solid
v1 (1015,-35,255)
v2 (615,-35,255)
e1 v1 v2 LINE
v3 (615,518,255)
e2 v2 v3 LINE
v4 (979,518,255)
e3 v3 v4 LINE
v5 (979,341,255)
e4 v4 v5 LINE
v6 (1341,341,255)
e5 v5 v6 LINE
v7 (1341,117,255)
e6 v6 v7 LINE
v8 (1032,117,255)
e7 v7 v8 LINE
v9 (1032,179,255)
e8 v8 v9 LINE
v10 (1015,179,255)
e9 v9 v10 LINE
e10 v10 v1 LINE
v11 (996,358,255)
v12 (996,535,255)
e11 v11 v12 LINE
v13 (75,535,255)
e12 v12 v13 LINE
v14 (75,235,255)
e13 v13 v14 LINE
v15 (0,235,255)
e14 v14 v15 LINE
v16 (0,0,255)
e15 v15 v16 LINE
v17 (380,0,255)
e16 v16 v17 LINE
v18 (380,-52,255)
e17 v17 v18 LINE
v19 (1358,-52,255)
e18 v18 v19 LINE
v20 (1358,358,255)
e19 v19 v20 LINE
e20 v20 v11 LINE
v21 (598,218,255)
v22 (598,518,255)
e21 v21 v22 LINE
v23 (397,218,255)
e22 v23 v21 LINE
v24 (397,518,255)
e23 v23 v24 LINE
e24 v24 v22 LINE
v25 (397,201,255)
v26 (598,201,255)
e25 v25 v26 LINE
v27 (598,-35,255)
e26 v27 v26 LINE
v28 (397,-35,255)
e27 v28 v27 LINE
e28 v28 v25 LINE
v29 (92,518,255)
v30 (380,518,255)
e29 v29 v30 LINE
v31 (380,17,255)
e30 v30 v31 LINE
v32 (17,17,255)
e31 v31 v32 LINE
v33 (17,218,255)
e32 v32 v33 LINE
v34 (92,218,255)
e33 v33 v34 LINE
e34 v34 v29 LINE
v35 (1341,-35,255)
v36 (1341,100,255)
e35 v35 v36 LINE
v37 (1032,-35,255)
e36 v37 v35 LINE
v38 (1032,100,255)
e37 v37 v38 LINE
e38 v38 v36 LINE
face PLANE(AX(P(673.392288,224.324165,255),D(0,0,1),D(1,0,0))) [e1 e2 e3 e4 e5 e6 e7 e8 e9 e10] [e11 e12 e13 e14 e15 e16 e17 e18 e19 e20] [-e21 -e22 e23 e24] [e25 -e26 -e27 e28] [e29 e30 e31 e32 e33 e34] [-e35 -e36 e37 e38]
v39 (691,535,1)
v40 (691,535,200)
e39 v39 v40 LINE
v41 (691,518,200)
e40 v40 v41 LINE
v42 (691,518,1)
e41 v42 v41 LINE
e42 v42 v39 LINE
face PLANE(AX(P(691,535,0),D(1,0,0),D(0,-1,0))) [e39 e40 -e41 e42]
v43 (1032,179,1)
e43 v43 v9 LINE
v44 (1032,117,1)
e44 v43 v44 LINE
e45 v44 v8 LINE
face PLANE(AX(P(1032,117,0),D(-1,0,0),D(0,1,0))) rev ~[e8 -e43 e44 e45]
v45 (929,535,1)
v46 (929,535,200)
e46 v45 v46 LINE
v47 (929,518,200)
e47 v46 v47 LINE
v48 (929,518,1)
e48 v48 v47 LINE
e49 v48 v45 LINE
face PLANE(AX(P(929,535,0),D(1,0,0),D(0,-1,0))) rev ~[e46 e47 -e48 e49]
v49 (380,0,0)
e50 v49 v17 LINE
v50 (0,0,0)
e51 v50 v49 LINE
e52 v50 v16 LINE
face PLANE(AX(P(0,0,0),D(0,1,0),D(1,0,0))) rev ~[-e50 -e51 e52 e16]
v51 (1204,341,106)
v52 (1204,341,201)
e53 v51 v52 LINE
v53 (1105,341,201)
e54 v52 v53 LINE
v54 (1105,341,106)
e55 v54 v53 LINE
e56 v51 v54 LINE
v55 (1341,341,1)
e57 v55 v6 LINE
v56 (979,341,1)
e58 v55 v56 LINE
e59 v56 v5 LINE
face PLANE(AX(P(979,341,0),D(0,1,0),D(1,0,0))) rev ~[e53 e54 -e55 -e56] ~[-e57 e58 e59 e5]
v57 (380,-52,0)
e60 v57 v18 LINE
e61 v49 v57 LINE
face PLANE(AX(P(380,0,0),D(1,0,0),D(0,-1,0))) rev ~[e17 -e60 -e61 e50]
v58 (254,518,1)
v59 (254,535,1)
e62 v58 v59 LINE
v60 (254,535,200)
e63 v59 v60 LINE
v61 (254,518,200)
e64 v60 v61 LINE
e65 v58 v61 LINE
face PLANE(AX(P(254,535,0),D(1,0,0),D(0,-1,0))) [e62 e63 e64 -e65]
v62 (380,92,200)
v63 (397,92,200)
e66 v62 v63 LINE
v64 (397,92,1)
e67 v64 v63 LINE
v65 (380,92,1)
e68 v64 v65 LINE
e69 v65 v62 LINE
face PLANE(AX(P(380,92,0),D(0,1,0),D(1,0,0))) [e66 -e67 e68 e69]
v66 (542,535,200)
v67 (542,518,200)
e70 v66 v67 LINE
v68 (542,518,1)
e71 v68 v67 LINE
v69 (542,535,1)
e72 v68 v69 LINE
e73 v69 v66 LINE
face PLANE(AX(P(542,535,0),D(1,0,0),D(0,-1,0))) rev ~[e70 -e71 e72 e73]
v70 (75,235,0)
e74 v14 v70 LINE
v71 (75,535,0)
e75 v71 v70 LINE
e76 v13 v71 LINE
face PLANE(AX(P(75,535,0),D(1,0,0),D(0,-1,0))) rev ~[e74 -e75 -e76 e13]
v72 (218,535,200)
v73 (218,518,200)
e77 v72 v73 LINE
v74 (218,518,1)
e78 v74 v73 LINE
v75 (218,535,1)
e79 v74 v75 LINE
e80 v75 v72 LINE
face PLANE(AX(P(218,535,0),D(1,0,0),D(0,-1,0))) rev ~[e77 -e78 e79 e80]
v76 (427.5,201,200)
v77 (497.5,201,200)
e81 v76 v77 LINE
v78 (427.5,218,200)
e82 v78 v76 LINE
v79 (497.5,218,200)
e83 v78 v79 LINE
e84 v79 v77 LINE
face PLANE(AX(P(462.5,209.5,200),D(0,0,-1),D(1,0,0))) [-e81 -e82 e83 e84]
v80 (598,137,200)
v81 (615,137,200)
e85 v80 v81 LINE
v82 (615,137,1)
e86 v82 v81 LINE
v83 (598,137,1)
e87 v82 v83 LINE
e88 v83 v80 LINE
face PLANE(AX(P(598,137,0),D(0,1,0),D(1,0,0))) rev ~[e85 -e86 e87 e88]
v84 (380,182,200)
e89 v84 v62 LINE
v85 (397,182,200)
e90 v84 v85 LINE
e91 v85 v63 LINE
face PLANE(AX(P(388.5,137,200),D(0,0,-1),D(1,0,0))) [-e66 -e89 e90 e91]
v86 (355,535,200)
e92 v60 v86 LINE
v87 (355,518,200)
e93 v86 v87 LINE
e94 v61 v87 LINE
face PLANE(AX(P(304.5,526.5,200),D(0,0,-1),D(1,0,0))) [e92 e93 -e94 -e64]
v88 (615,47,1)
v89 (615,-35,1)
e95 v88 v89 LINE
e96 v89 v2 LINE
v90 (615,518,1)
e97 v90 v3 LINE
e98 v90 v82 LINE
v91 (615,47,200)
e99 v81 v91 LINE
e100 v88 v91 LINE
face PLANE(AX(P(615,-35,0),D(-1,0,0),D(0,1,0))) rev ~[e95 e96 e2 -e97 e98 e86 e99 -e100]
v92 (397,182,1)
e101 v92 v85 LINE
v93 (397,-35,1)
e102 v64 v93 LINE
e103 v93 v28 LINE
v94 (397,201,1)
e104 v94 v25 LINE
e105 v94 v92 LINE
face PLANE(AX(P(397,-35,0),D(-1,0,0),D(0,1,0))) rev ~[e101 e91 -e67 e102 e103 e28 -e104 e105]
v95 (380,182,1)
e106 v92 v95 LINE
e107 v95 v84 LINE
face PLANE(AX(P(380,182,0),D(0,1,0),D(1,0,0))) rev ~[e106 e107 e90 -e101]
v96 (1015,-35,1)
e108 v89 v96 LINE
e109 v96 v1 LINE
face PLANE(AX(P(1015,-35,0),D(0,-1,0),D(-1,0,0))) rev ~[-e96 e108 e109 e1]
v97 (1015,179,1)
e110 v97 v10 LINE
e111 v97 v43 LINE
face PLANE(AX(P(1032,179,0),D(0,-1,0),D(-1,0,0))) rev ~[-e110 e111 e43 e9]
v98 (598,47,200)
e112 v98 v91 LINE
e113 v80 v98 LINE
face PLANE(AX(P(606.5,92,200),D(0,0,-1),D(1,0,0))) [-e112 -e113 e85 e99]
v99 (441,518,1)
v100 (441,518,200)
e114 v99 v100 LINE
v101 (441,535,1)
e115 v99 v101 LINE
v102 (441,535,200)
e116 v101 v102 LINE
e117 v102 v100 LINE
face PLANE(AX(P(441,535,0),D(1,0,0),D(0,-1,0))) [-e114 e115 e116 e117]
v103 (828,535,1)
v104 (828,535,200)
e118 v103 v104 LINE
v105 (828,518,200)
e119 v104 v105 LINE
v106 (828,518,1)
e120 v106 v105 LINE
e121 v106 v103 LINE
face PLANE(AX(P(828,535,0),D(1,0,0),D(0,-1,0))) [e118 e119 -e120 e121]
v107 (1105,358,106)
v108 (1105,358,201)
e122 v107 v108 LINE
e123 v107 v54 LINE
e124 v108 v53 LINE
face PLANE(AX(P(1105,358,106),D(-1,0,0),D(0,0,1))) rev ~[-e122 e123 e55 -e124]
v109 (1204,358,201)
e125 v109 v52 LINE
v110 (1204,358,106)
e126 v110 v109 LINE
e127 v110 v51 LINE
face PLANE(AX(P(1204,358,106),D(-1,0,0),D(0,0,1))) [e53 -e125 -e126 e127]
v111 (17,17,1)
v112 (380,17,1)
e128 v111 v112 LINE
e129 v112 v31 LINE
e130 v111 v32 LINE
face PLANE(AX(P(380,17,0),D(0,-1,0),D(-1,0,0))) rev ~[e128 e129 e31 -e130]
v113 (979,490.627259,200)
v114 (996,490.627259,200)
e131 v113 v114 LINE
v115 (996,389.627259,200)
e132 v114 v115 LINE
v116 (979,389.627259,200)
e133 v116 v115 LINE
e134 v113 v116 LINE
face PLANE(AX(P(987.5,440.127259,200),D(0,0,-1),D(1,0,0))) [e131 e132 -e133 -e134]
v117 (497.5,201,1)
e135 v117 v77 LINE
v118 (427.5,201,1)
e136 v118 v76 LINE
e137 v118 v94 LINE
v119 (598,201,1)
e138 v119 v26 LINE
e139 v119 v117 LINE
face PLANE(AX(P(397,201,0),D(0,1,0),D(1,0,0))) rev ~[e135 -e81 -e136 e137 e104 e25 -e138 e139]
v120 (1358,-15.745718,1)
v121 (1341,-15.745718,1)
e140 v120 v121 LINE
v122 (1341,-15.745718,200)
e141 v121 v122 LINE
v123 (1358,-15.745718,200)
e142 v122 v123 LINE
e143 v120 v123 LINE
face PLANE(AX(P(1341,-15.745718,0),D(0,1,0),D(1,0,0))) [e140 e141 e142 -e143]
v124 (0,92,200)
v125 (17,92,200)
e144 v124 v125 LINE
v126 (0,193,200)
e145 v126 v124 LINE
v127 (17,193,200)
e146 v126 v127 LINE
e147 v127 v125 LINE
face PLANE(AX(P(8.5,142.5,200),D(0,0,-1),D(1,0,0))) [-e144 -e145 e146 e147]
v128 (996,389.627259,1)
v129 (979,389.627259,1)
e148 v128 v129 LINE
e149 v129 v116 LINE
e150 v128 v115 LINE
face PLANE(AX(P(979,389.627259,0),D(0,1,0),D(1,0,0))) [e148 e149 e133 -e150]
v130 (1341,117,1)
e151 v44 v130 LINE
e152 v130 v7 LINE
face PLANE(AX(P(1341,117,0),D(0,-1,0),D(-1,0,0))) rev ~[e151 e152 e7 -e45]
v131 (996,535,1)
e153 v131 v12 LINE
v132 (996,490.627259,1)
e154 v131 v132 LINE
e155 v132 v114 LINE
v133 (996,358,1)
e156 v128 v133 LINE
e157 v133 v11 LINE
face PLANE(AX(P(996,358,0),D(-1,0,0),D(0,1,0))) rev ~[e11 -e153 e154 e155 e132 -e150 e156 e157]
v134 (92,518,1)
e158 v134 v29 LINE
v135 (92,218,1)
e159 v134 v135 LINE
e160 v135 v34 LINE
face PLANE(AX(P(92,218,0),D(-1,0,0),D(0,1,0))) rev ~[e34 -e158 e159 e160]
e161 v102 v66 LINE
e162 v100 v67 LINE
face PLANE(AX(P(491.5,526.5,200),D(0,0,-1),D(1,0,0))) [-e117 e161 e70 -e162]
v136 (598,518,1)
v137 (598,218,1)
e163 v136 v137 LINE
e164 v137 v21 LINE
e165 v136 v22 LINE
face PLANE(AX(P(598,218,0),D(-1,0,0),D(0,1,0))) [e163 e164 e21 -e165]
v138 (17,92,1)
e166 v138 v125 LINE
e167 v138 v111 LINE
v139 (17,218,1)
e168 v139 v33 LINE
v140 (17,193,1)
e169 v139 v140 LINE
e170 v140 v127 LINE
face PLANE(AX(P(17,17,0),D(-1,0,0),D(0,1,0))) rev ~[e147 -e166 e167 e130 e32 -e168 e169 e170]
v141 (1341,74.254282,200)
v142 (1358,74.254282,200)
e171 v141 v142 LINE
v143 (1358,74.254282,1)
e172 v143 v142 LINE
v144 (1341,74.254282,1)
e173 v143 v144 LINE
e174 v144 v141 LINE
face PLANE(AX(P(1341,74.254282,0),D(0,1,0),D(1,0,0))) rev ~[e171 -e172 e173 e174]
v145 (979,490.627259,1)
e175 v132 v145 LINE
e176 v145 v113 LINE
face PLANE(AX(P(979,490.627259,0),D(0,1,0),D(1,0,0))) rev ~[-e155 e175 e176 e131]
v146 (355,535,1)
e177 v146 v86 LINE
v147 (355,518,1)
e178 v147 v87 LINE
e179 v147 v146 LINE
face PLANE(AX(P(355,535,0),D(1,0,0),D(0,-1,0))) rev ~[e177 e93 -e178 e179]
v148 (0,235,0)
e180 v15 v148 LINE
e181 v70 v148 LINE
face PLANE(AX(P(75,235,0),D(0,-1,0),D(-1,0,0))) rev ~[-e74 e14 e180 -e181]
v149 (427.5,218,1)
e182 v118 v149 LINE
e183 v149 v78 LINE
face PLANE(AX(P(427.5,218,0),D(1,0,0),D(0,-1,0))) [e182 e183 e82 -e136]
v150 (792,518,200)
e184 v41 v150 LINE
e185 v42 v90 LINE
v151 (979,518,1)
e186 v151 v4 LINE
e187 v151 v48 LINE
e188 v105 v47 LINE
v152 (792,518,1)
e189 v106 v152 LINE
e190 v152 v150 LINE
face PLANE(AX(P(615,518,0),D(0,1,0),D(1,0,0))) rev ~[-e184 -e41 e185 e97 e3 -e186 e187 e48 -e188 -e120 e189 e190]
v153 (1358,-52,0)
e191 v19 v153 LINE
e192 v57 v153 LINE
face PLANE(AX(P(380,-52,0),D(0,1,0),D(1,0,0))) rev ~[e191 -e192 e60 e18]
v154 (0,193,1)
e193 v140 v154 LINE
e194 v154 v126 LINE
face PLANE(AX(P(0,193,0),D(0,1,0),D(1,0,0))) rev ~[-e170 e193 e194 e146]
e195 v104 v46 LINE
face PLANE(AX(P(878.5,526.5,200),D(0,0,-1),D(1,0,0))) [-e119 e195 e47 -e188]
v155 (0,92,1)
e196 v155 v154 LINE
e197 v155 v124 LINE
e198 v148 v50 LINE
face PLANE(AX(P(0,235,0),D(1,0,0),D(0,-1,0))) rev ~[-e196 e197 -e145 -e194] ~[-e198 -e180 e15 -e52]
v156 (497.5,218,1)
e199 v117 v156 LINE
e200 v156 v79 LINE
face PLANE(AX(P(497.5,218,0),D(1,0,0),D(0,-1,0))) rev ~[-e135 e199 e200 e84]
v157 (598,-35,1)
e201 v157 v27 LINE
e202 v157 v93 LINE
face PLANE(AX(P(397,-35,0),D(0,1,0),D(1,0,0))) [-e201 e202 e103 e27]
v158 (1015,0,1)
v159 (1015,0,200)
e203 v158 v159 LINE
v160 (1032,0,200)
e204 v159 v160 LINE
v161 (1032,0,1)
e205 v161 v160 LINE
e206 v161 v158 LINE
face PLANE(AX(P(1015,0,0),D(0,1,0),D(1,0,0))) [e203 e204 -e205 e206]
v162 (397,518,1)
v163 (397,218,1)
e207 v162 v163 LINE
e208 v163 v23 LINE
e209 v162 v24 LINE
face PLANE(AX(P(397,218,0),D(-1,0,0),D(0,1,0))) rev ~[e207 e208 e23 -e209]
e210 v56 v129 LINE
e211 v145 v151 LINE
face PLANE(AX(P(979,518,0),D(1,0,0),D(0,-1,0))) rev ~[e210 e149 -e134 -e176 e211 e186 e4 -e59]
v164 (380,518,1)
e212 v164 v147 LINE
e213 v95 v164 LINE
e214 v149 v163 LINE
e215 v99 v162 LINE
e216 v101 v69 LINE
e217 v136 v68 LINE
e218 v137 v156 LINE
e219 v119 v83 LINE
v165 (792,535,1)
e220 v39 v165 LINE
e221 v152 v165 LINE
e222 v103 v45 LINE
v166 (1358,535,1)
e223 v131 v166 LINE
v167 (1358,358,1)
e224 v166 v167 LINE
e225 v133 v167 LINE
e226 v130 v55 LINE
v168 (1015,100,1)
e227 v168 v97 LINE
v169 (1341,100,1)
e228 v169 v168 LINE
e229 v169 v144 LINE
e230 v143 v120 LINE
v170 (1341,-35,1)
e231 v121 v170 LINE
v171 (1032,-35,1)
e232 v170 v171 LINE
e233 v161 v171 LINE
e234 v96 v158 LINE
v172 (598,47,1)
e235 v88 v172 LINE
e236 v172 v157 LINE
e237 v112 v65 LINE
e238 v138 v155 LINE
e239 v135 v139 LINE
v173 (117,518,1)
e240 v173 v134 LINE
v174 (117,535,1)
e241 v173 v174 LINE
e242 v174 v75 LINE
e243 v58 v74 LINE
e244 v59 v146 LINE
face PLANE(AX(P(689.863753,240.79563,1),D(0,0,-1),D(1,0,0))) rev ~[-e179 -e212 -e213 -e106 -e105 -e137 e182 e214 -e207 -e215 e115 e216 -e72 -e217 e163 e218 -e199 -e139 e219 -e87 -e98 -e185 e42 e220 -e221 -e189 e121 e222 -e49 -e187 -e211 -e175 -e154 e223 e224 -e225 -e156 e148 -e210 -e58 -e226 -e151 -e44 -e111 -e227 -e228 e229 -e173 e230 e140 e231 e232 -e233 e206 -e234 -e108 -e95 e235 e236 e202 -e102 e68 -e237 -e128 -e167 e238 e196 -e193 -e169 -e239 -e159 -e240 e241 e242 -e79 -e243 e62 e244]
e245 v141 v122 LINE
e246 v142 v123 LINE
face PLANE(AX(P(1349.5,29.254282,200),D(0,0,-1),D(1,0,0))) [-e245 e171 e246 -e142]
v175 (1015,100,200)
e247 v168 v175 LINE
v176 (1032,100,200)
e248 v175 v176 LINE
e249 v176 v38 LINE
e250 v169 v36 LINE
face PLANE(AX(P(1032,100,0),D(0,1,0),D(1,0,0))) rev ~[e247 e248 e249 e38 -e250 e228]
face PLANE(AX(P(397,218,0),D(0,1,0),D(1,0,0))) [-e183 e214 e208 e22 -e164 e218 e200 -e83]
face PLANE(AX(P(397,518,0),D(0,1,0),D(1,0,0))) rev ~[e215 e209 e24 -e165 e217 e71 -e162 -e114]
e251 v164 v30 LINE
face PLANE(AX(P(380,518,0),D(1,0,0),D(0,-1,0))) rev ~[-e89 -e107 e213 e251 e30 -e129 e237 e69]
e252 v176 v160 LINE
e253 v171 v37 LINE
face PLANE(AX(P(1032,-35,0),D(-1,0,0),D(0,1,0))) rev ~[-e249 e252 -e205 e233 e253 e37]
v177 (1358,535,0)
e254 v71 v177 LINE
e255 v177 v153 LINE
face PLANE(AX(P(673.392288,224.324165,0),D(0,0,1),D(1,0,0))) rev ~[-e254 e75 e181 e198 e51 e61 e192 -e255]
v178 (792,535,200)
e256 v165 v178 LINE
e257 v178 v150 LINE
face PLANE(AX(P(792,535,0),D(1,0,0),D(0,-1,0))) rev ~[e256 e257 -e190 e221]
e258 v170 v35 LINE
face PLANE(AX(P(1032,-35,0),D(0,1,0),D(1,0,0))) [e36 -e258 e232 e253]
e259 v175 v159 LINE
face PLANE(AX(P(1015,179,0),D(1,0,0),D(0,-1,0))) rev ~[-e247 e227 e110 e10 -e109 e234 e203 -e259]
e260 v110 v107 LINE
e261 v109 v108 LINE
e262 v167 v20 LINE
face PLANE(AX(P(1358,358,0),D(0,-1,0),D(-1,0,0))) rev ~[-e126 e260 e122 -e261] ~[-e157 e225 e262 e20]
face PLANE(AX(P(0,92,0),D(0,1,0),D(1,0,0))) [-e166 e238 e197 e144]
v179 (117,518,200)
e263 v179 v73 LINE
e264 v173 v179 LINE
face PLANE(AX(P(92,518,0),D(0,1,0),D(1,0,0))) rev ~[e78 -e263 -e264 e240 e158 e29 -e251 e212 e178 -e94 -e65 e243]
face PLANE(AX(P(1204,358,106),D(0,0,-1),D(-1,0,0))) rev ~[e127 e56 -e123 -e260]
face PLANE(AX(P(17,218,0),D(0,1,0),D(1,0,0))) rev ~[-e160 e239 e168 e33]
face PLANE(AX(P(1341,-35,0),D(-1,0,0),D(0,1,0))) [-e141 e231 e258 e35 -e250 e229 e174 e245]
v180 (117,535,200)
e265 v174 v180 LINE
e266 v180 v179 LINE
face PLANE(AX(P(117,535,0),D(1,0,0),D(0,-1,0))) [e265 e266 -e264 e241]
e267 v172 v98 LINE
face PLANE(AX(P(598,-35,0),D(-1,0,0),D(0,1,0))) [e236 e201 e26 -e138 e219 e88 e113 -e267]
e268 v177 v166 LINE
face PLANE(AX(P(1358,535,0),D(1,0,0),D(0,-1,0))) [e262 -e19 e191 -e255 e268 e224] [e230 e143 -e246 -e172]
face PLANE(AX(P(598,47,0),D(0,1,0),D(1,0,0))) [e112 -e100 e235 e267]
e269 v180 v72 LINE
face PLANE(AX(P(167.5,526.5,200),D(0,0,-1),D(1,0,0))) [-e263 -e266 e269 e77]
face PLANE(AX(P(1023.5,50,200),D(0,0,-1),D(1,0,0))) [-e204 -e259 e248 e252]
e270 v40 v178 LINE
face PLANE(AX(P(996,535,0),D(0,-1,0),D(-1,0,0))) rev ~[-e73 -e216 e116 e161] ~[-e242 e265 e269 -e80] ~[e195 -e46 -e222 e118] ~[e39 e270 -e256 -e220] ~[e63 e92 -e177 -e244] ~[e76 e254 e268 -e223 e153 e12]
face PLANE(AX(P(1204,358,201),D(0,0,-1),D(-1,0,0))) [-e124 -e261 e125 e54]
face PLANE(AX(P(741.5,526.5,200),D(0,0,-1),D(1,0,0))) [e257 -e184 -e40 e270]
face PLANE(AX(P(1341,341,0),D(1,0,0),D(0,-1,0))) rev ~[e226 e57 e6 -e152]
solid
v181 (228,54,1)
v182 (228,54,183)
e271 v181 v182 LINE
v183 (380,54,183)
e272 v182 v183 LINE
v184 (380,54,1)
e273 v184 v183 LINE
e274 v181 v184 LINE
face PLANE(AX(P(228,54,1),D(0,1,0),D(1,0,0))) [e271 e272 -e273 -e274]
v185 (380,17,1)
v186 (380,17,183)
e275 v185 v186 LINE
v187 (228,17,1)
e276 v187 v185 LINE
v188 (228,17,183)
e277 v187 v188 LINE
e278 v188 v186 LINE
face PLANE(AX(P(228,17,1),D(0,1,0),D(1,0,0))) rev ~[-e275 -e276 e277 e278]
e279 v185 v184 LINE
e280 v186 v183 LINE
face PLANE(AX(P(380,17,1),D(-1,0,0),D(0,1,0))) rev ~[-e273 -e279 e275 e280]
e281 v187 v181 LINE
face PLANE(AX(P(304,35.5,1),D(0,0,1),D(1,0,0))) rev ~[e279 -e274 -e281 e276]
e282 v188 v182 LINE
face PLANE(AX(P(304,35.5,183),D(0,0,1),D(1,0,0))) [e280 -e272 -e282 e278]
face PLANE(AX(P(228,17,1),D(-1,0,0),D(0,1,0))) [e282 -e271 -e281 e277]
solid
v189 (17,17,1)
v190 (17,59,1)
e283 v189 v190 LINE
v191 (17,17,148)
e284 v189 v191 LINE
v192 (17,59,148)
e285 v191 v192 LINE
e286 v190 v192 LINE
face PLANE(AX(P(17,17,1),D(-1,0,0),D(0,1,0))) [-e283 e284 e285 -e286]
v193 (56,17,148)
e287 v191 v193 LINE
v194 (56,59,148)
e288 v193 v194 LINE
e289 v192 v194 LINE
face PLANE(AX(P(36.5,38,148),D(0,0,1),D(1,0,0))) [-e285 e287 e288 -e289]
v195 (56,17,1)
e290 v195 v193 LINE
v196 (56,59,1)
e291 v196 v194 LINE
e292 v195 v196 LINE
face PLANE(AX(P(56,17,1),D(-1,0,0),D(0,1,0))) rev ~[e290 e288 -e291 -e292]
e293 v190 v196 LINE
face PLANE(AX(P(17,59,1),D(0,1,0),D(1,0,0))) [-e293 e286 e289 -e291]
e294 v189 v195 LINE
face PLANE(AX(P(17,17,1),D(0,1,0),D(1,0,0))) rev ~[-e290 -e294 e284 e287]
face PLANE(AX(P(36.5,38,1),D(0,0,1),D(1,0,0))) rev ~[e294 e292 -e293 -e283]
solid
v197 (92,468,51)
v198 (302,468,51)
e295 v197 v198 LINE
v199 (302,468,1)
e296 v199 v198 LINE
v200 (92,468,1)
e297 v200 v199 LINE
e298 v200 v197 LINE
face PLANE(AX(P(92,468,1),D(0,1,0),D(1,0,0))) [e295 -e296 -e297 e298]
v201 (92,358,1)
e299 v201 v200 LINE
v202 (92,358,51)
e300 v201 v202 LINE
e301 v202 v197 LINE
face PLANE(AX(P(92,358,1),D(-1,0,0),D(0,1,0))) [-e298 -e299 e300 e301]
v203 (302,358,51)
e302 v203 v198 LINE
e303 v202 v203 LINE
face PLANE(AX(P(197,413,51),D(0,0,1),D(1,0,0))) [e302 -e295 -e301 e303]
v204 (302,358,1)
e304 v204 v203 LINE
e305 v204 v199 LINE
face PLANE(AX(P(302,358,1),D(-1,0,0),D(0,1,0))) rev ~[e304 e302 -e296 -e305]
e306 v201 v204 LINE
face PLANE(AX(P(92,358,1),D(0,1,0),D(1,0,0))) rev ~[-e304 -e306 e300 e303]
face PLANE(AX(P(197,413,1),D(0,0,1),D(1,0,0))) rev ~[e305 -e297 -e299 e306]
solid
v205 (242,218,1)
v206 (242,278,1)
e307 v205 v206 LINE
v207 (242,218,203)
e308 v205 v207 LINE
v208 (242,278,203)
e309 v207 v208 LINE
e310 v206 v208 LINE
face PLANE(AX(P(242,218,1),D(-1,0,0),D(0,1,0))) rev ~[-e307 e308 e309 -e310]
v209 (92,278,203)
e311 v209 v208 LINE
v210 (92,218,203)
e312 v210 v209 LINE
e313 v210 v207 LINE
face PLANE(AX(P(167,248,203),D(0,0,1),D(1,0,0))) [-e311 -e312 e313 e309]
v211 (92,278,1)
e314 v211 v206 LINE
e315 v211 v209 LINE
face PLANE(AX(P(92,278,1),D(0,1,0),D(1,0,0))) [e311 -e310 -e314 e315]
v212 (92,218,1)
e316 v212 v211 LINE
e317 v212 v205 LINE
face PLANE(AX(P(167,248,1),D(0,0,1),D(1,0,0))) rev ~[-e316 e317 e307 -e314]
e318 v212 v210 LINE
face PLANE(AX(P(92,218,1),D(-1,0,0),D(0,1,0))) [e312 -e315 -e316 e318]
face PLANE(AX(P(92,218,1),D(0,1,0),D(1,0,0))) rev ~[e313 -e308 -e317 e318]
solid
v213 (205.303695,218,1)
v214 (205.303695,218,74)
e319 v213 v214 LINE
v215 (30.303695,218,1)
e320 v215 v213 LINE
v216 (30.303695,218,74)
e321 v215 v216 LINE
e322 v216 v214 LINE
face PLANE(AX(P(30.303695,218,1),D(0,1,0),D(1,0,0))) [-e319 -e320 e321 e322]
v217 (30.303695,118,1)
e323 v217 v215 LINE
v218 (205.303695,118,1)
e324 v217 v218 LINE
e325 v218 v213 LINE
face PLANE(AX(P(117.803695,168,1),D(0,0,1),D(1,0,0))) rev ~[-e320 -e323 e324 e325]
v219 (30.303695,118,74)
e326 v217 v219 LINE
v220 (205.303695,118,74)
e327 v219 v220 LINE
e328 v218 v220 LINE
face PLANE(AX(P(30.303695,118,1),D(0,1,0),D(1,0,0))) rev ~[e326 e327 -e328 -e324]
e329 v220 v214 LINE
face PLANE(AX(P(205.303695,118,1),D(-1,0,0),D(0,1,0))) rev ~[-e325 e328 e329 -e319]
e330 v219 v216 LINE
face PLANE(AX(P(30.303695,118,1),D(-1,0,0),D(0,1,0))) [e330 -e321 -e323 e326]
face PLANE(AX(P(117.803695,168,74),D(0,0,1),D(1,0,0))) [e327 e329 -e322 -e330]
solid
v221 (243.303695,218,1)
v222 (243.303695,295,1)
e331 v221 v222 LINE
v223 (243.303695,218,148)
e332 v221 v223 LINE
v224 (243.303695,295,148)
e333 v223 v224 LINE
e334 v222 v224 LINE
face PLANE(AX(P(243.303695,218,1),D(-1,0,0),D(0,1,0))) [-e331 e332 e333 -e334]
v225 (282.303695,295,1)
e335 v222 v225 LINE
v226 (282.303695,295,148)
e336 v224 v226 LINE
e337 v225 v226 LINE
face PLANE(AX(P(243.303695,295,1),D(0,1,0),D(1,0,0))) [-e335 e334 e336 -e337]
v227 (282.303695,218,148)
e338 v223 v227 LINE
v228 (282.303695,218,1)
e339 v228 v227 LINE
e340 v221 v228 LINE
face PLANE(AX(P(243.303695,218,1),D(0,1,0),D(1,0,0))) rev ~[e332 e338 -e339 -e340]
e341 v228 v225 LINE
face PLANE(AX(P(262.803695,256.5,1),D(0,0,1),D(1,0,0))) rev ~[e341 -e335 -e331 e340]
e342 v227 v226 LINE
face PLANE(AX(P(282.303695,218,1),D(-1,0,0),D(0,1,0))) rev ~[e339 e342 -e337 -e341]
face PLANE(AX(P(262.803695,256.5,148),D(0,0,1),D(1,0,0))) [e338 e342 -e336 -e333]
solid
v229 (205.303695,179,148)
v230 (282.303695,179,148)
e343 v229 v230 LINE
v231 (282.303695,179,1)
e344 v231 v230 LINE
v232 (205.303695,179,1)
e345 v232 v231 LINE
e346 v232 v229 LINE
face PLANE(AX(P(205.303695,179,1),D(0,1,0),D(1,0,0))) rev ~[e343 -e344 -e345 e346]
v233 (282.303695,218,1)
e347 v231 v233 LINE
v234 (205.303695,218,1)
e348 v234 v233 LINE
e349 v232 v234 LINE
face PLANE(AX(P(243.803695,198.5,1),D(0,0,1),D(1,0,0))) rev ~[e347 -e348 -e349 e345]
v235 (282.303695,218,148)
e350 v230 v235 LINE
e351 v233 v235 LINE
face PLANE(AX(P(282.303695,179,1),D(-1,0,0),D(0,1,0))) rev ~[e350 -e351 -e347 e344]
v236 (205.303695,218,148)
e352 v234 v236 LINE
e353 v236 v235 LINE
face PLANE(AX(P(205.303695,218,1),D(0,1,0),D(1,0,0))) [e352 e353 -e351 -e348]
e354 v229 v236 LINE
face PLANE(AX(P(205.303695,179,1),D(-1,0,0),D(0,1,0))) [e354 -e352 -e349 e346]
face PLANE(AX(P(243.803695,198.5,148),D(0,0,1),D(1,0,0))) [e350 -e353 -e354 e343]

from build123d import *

# Parameters (mm, degrees)
F0_W      = 201
F0_H      = 236
F0_W_2    = 309
F0_H_2    = 135
F0_H_3    = 300
F1_DEPTH  = 255
F2_W      = 101
F2_H      = 17
F2_W_2    = 17
F2_H_2    = 90
F2_H_3    = 101
F2_W_3    = 70
F2_H_4    = 100
F3_DEPTH  = 200
F5_DEPTH  = 1
F6_W      = 175
F6_H      = 100
F7_DEPTH  = 73
F8_W      = 152
F8_H      = 37
F9_DEPTH  = 182
F10_W     = 210
F10_H     = 110
F11_DEPTH = 50
F12_W     = 150
F12_H     = 60
F13_DEPTH = 202
F14_W     = 77
F14_H     = 39
F15_DEPTH = 147
F16_W     = 39
F16_H     = 77
F17_DEPTH = 147
F18_W     = 39
F18_H     = 42
F19_DEPTH = 147
F20_W     = 99
F20_H     = 95
F21_DEPTH = 25


with BuildPart() as f1:
    # F0 (on Top) → F1 (new body)
    with BuildSketch(Plane.XY):
        Polygon((0, 235), (0, 0), (380, 0), (380, -52), (1358, -52), (1358, 358), (996, 358), (996, 535), (75, 535), (75, 235), align=None)
        with Locations((497.5, 83)):
            Rectangle(F0_W, F0_H, mode=Mode.SUBTRACT)
        with Locations((1186.5, 32.5)):
            Rectangle(F0_W_2, F0_H_2, mode=Mode.SUBTRACT)
        Polygon((92, 218), (92, 518), (380, 518), (380, 17), (17, 17), (17, 218), align=None, mode=Mode.SUBTRACT)
        with Locations((497.5, 368)):
            Rectangle(F0_W, F0_H_3, mode=Mode.SUBTRACT)
        Polygon((615, 518), (979, 518), (979, 341), (1341, 341), (1341, 117), (1032, 117), (1032, 179), (1015, 179), (1015, -35), (615, -35), align=None, mode=Mode.SUBTRACT)
    extrude(amount=F1_DEPTH)

    # F2 (on face) → F3 (cut)
    with BuildSketch(Plane(origin=(0, 0, 0), x_dir=(1, 0, 0), z_dir=(0, 0, -1))):
        with Locations((167.5, -526.5)):
            Rectangle(F2_W, F2_H)
        with Locations((304.5, -526.5)):
            Rectangle(F2_W, F2_H)
        with Locations((388.5, -137)):
            Rectangle(F2_W_2, F2_H_2)
        with Locations((8.5, -142.5)):
            Rectangle(F2_W_2, F2_H_3)
        with Locations((491.5, -526.5)):
            Rectangle(F2_W, F2_H)
        with Locations((741.5, -526.5)):
            Rectangle(F2_W, F2_H)
        with Locations((878.5, -526.5)):
            Rectangle(F2_W, F2_H)
        with Locations((462.5, -209.5)):
            Rectangle(F2_W_3, F2_H)
        with Locations((606.5, -92)):
            Rectangle(F2_W_2, F2_H_2)
        with Locations((1023.5, -50)):
            Rectangle(F2_W_2, F2_H_4)
        with Locations((987.5, -440.127259)):
            Rectangle(F2_W_2, F2_H_3)
        with Locations((1349.5, -29.254282)):
            Rectangle(F2_W_2, F2_H_2)
    extrude(amount=-F3_DEPTH, mode=Mode.SUBTRACT)

    # F4 (on face) → F5 (join)
    with BuildSketch(Plane(origin=(0, 0, 0), x_dir=(1, 0, 0), z_dir=(0, 0, -1))):
        Polygon((75, -535), (1358, -535), (1358, 52), (380, 52), (380, 0), (0, 0), (0, -235), (75, -235), align=None)
    extrude(amount=-F5_DEPTH)

    # F20 (on face) → F21 (cut)
    with BuildSketch(Plane(origin=(0, 358, 0), x_dir=(-1, 0, 0), z_dir=(0, 1, 0))):
        with Locations((-1154.5, 153.5)):
            Rectangle(F20_W, F20_H)
    extrude(amount=-F21_DEPTH, mode=Mode.SUBTRACT)


with BuildPart() as f7:
    # F6 (on face) → F7 (new body)
    with BuildSketch(Plane.XY.offset(1)):
        with Locations((117.803695, 168)):
            Rectangle(F6_W, F6_H)
    extrude(amount=F7_DEPTH)


with BuildPart() as f9:
    # F8 (on face) → F9 (new body)
    with BuildSketch(Plane.XY.offset(1)):
        with Locations((304, 35.5)):
            Rectangle(F8_W, F8_H)
    extrude(amount=F9_DEPTH)


with BuildPart() as f11:
    # F10 (on face) → F11 (new body)
    with BuildSketch(Plane.XY.offset(1)):
        with Locations((197, 413)):
            Rectangle(F10_W, F10_H)
    extrude(amount=F11_DEPTH)


with BuildPart() as f13:
    # F12 (on face) → F13 (new body)
    with BuildSketch(Plane.XY.offset(1)):
        with Locations((167, 248)):
            Rectangle(F12_W, F12_H)
    extrude(amount=F13_DEPTH)


with BuildPart() as f15:
    # F14 (on face) → F15 (new body)
    with BuildSketch(Plane.XY.offset(1)):
        with Locations((243.803695, 198.5)):
            Rectangle(F14_W, F14_H)
    extrude(amount=F15_DEPTH)


with BuildPart() as f17:
    # F16 (on face) → F17 (new body)
    with BuildSketch(Plane.XY.offset(1)):
        with Locations((262.803695, 256.5)):
            Rectangle(F16_W, F16_H)
    extrude(amount=F17_DEPTH)


with BuildPart() as f19:
    # F18 (on face) → F19 (new body)
    with BuildSketch(Plane.XY.offset(1)):
        with Locations((36.5, 38)):
            Rectangle(F18_W, F18_H)
    extrude(amount=F19_DEPTH)


solid = Compound([f1.part, f7.part, f9.part, f11.part, f13.part, f15.part, f17.part, f19.part])
